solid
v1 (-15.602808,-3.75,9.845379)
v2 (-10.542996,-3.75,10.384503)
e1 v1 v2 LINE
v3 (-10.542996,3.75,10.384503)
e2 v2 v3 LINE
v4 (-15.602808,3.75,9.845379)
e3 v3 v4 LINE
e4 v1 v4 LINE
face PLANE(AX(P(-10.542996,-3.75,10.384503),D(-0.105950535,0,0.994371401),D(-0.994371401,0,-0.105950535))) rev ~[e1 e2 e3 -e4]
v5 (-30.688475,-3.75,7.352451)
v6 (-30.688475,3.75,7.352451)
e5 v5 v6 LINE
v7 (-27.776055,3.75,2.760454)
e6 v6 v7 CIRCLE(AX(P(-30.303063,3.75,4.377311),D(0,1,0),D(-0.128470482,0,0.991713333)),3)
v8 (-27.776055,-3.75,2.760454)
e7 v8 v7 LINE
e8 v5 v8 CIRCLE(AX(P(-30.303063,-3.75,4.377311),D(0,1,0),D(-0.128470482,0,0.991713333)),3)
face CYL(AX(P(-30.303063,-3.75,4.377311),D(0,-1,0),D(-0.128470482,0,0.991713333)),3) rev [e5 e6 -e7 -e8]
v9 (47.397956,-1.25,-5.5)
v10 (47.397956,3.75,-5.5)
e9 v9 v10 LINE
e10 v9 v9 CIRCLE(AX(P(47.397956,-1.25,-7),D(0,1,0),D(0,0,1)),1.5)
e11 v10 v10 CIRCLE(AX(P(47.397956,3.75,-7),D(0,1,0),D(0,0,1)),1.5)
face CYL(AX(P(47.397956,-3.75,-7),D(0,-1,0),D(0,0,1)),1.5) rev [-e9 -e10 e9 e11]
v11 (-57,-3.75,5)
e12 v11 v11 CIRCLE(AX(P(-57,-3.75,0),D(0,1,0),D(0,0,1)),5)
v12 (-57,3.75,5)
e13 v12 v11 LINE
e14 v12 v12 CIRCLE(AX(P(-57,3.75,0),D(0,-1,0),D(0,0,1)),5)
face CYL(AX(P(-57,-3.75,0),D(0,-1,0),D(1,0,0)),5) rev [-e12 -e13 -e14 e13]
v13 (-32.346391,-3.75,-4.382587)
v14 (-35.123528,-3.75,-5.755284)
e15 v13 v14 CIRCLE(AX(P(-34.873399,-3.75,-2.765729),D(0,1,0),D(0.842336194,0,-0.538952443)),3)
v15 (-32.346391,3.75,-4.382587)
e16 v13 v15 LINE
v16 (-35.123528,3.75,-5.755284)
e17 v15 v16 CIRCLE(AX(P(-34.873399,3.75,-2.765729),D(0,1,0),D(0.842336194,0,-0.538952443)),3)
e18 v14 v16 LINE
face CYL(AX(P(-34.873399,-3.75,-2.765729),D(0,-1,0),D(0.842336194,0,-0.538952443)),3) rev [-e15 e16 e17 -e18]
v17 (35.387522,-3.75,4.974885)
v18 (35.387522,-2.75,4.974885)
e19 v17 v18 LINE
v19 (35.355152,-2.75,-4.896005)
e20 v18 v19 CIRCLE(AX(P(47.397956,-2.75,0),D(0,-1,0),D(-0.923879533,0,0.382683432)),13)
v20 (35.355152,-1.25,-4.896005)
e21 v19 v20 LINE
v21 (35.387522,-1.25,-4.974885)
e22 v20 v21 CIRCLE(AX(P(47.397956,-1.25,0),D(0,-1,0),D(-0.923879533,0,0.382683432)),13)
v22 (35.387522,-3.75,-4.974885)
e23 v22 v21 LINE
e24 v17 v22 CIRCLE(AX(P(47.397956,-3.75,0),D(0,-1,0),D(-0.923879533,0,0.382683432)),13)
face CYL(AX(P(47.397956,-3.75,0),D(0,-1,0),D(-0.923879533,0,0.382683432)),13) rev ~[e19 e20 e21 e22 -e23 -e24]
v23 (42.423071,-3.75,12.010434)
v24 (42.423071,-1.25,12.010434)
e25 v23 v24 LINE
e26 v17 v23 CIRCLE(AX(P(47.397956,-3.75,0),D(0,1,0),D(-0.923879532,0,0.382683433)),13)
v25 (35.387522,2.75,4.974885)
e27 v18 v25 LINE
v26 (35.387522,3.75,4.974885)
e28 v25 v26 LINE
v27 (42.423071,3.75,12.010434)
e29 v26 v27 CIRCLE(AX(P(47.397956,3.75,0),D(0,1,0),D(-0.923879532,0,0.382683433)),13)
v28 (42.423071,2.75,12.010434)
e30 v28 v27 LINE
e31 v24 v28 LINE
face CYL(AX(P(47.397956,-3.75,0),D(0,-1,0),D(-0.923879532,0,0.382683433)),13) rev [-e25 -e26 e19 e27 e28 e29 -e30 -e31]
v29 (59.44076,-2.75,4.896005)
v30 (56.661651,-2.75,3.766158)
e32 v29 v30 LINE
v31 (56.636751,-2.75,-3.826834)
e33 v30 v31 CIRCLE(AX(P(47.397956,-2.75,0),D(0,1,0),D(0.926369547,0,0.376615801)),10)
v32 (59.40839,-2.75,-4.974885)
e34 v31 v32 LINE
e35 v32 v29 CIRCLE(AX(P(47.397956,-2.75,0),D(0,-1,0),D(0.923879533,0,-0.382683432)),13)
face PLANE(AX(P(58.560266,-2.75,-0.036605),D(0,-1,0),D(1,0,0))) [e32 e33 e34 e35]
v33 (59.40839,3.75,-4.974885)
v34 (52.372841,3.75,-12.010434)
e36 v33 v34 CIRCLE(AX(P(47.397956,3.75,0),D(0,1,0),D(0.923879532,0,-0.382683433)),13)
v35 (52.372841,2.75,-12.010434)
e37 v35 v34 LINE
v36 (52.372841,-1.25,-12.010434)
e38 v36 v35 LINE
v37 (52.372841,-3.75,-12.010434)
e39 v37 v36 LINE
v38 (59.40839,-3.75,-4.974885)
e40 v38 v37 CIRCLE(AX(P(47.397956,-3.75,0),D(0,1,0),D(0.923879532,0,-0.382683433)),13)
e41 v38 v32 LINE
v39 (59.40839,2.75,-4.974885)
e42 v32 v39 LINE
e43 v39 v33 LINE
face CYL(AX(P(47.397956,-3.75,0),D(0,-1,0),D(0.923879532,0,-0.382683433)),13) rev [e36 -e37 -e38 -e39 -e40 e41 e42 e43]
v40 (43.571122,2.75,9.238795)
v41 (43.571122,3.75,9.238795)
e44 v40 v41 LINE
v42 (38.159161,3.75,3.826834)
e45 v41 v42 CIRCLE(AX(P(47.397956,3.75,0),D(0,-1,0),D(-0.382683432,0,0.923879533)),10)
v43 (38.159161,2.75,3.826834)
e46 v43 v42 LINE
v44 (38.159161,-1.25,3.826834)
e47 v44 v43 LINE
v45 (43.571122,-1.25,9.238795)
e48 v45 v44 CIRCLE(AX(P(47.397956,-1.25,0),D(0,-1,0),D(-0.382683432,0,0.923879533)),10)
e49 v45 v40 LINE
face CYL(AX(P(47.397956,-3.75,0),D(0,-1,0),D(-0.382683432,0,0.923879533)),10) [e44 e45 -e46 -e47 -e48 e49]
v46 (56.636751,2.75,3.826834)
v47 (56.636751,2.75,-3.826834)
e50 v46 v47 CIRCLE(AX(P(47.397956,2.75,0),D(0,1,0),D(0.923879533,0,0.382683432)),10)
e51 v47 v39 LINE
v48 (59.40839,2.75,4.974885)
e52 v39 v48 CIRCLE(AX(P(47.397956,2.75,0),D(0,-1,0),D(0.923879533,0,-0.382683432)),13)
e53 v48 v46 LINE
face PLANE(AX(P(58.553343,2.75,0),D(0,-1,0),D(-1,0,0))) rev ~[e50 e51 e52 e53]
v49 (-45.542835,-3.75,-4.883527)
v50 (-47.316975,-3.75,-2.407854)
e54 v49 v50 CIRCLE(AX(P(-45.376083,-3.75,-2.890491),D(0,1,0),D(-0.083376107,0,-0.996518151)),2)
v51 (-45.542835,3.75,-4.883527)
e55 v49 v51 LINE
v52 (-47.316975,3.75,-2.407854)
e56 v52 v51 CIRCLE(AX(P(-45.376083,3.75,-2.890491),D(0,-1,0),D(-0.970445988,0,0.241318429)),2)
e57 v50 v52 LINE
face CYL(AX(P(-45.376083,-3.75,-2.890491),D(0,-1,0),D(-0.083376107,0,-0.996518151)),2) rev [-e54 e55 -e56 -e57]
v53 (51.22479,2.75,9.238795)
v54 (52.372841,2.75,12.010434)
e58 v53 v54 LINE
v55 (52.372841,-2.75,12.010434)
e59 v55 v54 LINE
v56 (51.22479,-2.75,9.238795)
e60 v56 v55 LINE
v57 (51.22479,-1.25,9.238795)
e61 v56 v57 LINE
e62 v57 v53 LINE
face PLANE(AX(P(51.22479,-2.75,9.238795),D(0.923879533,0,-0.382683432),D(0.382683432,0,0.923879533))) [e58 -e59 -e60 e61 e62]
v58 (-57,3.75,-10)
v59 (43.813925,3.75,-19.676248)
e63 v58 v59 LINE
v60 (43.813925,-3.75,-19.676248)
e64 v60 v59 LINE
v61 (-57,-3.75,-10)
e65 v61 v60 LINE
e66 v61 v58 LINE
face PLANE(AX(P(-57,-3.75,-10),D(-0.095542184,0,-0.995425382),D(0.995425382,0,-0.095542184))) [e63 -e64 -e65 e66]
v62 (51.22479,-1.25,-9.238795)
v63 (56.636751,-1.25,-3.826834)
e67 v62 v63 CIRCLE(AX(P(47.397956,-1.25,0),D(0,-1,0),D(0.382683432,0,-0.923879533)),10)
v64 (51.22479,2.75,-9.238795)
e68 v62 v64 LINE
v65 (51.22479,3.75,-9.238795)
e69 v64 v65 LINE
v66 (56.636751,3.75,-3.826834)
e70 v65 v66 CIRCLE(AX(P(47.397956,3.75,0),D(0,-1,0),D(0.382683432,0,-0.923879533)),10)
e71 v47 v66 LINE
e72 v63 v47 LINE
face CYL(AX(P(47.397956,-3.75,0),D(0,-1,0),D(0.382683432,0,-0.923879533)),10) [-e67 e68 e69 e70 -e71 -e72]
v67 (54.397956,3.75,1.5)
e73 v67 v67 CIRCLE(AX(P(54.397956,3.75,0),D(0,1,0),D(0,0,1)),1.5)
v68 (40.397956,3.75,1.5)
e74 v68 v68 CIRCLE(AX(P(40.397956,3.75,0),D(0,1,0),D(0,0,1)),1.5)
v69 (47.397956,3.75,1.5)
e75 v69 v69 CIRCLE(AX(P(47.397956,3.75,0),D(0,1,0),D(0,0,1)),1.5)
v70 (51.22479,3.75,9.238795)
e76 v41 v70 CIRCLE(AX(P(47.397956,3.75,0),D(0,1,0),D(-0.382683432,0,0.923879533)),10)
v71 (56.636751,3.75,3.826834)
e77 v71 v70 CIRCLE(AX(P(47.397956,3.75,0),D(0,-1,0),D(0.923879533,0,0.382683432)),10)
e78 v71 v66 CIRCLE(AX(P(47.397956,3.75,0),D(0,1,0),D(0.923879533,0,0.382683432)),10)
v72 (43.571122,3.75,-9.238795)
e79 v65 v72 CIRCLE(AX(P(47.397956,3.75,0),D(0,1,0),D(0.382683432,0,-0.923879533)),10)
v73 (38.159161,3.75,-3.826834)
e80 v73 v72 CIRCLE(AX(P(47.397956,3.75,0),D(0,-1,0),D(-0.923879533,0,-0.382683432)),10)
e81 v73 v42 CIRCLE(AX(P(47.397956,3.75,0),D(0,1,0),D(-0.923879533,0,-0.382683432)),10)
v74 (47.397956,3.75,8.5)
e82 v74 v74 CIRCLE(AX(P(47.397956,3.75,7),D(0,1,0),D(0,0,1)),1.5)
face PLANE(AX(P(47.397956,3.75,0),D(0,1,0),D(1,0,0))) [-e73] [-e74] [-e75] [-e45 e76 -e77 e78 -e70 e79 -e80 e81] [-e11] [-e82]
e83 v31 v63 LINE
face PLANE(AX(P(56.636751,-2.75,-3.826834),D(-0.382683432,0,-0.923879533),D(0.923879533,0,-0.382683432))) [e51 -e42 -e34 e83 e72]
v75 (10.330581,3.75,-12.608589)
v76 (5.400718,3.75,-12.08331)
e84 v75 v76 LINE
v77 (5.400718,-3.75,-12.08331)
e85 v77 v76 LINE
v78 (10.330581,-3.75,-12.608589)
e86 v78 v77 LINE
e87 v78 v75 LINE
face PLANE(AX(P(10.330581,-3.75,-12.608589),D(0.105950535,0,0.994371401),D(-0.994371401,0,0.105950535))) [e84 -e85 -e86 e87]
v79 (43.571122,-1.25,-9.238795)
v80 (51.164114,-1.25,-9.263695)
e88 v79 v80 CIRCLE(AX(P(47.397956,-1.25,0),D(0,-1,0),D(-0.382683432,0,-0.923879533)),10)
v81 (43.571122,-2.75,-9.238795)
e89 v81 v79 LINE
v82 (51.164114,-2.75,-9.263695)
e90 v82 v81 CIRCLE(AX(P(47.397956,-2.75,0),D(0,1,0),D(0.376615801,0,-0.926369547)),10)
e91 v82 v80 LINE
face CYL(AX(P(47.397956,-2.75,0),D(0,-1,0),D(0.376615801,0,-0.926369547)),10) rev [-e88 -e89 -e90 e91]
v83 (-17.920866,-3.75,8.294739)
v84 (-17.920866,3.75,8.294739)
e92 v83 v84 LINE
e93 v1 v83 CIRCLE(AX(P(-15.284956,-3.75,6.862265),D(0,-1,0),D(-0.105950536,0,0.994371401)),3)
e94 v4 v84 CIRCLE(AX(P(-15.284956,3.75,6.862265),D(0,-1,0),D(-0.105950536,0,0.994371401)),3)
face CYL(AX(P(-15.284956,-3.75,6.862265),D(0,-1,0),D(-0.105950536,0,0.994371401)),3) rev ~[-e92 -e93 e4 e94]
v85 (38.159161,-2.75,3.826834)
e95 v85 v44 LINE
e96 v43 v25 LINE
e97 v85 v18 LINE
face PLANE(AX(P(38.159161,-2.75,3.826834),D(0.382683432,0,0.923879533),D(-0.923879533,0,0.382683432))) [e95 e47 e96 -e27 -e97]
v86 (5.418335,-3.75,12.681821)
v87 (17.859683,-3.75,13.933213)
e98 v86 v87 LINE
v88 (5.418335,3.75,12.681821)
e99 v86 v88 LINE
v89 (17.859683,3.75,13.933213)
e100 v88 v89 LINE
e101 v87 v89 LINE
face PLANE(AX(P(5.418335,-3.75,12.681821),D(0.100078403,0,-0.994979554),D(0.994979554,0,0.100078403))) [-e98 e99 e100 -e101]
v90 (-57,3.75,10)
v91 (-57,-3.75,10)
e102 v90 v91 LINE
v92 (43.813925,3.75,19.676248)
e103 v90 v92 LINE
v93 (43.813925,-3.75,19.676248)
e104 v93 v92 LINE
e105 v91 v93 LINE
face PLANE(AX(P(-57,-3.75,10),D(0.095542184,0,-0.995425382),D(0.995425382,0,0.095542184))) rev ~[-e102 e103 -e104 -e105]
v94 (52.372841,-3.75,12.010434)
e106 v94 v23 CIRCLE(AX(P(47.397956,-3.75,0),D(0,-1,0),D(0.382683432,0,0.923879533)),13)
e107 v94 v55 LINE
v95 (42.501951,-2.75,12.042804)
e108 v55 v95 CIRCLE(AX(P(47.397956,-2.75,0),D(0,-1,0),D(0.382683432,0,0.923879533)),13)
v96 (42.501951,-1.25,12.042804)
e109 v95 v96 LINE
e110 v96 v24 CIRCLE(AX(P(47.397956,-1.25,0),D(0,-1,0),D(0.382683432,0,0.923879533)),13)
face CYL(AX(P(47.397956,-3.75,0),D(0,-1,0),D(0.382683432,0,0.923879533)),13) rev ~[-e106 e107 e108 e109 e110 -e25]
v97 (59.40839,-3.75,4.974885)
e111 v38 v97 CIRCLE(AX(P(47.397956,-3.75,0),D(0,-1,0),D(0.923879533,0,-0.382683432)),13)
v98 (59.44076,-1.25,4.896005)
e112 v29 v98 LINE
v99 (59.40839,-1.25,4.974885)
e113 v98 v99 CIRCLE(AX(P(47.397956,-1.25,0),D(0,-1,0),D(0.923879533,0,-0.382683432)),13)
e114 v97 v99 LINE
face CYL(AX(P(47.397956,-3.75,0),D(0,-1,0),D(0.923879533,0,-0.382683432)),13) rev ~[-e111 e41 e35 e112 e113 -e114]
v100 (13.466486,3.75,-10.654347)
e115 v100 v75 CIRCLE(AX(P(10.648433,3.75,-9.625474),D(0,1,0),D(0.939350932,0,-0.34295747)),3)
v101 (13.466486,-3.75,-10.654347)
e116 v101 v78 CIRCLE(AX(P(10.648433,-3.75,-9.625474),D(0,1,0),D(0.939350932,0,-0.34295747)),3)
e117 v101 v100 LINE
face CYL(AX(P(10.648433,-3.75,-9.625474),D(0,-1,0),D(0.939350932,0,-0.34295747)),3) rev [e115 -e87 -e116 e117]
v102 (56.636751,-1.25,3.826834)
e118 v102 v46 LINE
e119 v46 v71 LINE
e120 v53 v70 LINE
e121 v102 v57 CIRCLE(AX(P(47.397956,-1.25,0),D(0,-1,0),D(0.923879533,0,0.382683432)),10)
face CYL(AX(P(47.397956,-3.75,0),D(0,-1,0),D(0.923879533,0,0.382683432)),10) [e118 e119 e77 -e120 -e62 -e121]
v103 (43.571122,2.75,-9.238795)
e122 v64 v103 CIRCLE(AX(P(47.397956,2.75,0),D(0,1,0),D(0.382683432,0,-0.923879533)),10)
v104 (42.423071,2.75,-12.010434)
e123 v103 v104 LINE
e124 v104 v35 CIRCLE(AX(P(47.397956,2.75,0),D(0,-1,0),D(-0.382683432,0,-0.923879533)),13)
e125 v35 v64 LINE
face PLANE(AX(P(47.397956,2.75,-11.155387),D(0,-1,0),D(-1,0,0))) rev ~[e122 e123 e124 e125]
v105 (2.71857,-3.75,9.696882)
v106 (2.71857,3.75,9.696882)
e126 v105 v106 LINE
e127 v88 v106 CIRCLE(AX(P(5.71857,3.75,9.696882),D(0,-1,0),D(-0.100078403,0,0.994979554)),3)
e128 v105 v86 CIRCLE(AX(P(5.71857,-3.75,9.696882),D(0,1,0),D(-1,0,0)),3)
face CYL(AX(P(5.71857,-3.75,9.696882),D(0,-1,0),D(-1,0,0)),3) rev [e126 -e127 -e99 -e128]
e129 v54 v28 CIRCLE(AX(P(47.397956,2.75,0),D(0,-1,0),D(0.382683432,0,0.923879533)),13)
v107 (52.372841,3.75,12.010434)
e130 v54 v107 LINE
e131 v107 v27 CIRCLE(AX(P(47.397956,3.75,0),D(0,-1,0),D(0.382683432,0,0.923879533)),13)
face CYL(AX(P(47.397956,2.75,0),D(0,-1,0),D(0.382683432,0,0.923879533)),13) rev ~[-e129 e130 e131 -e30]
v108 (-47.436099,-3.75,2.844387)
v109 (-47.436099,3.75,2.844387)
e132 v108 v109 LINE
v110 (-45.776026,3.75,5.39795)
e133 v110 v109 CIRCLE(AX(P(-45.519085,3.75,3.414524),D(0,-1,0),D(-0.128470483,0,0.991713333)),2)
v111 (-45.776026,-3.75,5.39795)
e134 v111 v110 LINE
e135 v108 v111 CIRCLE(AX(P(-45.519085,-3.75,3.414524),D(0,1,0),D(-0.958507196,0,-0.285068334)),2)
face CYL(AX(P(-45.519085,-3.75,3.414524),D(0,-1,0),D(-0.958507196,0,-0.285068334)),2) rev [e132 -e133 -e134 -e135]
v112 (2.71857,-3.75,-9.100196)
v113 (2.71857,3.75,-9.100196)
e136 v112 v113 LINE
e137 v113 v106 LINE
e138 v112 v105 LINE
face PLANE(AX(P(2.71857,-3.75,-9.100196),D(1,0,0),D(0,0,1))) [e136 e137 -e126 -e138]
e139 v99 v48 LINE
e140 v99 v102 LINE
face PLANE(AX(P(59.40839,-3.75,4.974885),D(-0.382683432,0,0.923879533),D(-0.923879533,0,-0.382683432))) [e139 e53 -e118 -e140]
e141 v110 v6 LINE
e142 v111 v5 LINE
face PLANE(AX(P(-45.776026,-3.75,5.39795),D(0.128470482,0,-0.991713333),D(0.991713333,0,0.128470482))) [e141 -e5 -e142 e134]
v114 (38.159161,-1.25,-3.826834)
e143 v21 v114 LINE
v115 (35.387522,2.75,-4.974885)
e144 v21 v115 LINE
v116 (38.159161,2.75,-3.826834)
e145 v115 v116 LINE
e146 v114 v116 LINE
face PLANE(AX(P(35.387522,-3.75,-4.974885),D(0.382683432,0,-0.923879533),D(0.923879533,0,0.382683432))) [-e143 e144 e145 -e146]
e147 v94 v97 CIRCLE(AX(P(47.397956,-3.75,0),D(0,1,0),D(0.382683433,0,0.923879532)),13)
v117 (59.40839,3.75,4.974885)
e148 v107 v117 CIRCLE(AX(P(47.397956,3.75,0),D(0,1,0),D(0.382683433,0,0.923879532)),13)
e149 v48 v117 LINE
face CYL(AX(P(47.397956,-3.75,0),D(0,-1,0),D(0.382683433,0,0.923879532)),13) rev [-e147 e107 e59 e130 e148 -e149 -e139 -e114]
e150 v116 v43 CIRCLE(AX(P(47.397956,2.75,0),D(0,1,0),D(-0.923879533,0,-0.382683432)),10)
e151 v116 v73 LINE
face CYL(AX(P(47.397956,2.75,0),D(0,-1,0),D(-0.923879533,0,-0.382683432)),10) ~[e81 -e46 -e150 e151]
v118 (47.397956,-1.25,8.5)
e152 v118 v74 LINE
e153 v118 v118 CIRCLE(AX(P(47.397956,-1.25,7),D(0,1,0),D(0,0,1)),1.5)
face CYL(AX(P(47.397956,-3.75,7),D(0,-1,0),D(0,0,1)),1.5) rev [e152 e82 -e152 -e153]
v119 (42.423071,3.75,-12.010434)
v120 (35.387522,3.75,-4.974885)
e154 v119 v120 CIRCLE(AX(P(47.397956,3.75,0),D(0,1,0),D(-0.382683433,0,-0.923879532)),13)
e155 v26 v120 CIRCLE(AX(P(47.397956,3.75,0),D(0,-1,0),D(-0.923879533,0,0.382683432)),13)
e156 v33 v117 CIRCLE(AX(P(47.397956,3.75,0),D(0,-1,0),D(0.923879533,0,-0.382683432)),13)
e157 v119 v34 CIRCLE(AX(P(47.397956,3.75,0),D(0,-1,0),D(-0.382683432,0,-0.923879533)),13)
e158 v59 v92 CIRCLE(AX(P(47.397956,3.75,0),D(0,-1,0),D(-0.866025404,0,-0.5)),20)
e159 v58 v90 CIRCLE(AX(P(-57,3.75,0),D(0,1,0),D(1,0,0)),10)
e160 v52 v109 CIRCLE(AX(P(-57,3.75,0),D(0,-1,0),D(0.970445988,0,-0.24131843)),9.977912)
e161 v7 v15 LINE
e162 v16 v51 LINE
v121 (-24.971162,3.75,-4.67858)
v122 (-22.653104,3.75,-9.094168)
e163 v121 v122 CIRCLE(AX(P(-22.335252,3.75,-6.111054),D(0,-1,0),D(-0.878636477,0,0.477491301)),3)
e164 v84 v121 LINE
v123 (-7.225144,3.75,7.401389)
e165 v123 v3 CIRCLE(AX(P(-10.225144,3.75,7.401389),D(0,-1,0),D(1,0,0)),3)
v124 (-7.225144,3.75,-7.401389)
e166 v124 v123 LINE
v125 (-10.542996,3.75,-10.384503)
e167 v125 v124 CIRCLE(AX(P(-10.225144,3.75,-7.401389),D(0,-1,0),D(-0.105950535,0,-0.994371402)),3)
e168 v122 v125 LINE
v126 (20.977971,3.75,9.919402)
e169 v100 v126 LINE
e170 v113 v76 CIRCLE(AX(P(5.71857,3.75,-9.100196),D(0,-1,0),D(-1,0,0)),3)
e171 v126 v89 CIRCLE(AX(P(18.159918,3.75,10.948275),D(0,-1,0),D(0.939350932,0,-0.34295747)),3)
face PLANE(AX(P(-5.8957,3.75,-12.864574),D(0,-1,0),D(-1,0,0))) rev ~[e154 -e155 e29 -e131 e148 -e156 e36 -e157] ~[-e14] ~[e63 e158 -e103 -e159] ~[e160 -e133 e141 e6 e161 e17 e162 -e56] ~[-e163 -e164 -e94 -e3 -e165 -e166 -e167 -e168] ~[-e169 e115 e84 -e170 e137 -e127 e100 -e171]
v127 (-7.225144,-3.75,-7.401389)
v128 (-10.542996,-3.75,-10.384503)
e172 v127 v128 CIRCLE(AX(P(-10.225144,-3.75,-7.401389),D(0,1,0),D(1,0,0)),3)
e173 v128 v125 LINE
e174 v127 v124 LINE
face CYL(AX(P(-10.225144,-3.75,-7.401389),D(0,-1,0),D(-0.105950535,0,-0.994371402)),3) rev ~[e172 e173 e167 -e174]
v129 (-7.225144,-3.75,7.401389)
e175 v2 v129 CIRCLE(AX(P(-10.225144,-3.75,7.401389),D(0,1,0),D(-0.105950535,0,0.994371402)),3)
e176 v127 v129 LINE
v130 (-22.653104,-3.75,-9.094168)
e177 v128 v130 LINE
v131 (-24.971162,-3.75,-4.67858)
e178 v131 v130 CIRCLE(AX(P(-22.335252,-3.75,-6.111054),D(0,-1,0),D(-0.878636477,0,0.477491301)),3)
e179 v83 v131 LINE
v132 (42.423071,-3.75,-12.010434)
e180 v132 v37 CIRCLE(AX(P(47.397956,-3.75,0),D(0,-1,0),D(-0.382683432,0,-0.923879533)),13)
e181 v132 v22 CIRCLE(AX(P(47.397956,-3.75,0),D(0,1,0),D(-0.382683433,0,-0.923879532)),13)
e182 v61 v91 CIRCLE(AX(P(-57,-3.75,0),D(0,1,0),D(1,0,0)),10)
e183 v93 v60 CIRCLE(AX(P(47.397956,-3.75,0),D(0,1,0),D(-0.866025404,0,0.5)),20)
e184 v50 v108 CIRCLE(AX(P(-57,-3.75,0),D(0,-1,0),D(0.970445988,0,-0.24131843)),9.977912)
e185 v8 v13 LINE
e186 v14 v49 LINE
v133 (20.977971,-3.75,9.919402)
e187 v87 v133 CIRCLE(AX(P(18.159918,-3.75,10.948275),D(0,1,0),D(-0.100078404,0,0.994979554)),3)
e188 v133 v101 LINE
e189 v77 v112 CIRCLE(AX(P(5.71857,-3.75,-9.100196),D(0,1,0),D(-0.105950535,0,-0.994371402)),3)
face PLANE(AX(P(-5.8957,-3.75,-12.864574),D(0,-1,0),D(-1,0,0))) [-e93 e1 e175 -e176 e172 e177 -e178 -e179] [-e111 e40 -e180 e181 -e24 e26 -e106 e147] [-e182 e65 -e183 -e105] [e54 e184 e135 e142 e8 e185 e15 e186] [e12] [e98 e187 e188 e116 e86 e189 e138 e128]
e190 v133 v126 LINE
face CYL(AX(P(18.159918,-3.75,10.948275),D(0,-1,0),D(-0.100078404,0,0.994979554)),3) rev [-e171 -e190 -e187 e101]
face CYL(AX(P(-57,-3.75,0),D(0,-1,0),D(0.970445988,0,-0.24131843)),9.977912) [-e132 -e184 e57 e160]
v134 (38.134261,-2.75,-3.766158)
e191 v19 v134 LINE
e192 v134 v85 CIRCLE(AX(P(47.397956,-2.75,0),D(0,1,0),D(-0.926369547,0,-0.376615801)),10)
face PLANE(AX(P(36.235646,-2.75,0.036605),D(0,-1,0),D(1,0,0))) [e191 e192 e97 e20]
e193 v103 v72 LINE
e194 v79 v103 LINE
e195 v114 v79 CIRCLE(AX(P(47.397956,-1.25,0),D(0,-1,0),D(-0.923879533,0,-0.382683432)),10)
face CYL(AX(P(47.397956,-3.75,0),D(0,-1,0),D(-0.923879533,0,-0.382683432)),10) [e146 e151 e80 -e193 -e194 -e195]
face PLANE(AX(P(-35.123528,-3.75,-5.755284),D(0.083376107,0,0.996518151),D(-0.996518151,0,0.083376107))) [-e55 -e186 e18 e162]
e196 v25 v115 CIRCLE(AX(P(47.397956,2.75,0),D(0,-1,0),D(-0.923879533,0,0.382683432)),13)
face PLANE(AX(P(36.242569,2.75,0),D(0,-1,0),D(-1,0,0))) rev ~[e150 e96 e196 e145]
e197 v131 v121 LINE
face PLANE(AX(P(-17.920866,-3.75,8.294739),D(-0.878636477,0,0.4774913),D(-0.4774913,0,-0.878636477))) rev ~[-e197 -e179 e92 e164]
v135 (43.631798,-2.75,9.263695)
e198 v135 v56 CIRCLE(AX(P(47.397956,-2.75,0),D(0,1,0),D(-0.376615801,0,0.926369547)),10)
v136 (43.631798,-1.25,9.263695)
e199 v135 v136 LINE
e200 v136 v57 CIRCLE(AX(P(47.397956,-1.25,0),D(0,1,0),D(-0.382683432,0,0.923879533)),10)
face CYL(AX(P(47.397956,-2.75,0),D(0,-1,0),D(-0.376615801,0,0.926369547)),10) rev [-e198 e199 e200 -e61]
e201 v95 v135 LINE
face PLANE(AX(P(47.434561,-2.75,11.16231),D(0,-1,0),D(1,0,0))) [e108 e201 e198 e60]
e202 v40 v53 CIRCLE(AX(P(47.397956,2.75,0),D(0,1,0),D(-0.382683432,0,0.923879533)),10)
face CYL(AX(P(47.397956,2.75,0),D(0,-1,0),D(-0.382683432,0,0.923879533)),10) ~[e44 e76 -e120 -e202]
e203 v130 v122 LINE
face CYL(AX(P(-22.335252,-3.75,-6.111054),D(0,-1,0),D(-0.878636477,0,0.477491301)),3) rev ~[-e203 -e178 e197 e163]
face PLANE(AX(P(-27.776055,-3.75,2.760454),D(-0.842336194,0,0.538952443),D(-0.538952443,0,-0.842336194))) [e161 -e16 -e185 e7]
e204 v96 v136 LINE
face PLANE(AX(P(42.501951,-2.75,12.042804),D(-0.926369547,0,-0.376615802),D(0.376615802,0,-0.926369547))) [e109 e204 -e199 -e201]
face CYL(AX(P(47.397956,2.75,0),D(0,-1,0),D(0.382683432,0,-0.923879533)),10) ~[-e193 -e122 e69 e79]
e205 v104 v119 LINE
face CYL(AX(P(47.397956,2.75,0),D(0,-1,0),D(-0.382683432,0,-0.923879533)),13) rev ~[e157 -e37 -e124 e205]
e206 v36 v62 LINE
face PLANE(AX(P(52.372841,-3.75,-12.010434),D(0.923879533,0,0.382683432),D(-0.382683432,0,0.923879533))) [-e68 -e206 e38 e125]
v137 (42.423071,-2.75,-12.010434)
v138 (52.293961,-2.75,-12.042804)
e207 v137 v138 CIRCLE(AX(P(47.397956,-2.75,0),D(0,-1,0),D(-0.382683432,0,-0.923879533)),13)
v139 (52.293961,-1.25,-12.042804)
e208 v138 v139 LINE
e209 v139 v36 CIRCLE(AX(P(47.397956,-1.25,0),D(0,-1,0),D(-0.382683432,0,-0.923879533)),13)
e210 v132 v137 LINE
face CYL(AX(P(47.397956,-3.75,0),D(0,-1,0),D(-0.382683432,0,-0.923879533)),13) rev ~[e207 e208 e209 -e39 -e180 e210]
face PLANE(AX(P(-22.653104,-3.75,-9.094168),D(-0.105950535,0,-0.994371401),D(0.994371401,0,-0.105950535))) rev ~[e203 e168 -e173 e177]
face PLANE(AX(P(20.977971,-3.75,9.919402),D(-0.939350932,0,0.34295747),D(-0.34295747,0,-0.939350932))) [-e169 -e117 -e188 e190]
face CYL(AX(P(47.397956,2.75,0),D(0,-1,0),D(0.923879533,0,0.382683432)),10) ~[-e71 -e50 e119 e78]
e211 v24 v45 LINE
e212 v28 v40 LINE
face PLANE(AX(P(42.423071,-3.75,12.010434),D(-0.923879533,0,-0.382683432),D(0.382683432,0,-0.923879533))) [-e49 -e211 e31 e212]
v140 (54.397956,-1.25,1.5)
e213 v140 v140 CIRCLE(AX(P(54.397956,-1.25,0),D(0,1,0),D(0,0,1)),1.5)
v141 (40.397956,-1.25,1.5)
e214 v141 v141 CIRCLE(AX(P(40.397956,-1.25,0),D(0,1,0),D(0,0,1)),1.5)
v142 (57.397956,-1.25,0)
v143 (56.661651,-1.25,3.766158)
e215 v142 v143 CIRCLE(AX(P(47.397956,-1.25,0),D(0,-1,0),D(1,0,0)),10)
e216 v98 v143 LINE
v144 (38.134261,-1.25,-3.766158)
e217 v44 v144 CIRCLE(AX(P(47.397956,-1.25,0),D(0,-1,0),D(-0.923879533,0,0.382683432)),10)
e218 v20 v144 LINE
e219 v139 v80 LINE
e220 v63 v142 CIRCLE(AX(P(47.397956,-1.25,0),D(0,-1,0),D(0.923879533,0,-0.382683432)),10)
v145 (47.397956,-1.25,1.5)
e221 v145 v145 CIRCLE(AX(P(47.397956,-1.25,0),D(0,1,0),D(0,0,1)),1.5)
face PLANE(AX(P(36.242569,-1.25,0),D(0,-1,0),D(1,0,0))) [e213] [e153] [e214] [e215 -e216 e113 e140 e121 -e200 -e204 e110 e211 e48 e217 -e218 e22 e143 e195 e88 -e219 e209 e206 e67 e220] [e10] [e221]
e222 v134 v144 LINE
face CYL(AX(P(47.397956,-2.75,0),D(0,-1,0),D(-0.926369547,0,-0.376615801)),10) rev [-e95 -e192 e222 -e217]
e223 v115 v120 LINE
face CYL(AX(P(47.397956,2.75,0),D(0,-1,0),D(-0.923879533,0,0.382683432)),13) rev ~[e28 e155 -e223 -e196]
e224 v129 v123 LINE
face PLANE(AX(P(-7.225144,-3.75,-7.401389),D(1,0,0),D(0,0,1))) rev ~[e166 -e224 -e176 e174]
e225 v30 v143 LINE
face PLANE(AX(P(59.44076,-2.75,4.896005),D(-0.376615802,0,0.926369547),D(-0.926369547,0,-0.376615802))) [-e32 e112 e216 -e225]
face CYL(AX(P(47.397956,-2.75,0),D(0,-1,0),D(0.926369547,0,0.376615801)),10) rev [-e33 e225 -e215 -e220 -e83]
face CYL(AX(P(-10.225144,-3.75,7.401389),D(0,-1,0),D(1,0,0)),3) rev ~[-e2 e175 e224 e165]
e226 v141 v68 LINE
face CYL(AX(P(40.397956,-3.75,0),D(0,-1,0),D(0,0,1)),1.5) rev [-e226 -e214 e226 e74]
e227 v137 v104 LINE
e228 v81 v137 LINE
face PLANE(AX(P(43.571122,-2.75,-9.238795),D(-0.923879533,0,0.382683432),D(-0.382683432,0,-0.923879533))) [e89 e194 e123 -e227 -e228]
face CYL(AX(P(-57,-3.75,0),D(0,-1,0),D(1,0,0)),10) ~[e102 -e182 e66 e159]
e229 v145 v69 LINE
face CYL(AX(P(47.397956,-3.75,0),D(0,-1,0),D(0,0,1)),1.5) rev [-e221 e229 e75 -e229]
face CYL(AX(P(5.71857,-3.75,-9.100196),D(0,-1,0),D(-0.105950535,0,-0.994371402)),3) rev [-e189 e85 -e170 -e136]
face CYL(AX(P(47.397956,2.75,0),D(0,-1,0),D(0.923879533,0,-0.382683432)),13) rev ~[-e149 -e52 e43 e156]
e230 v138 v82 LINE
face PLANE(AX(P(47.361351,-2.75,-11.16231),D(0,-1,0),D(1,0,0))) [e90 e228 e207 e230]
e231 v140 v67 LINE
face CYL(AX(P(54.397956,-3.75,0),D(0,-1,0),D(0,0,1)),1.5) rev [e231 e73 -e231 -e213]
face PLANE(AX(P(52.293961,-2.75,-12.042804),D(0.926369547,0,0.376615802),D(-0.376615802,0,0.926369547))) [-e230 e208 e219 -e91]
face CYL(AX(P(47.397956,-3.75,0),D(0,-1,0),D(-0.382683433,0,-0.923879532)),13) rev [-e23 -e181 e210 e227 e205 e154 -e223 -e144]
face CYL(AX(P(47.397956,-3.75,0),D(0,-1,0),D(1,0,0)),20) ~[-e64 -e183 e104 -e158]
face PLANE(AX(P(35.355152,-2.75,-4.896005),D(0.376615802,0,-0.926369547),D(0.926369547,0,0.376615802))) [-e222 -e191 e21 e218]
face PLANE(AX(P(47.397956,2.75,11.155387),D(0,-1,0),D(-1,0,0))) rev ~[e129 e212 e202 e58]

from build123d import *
from build123d.topology import SkipClean

# Parameters (mm, degrees)
EXTRUDE_1_DEPTH          = 47
EXTRUDE_1_DEPTH_BACK     = 57
EXTRUDE_2_DEPTH          = 3.75
EXTRUDE_2_DEPTH_BACK     = 3.75
SKETCH_2_R               = 20
CUT_EXTRUDE_1_DEPTH      = 3.75
CUT_EXTRUDE_1_DEPTH_BACK = 3.75
SKETCH_3_R               = 1.5
CUT_EXTRUDE_START        = -1
CUT_EXTRUDE_2_DEPTH      = 1
SKETCH_5_R               = 1.5
CUT_EXTRUDE_3_DEPTH      = 2.5
EXTRUDE_START            = 1.5
EXTRUDE_3_DEPTH          = 1.5
EXTRUDE_4_DEPTH          = 3.75
EXTRUDE_4_DEPTH_BACK     = 3.75
SKETCH_7_R               = 10
SKETCH_7_R_2             = 5
CUT_EXTRUDE_4_DEPTH      = 3.75
CUT_EXTRUDE_4_DEPTH_BACK = 3.75
SKETCH_8_R               = 5
EXTRUDE_5_DEPTH          = 3.75
EXTRUDE_5_DEPTH_BACK     = 3.75
CUT_EXTRUDE_5_DEPTH      = 3.75
CUT_EXTRUDE_5_DEPTH_BACK = 3.75


with BuildPart() as part:
    # 草图1 → 凸台-拉伸1 (new, two sides: drawn at the far end of the back side and taken through both)
    with BuildSketch(Plane(origin=(0, 0, 0), x_dir=(0, 0, -1), z_dir=(1, 0, 0)).offset(-EXTRUDE_1_DEPTH_BACK)):
        Polygon((10, 0), (10, 3.75), (-10, 3.75), (-10, -3.75), (10, -3.75), align=None)
    extrude(amount=EXTRUDE_1_DEPTH + EXTRUDE_1_DEPTH_BACK)

    # 草图2 → 凸台-拉伸2 (add, two sides: drawn at the far end of the back side and taken through both)
    with BuildSketch(Plane(origin=(0, 0, 0), x_dir=(1, 0, 0), z_dir=(0, 1, 0)).offset(-EXTRUDE_2_DEPTH_BACK)):
        with Locations((47.397956018, 0)):
            Circle(SKETCH_2_R)
    extrude(amount=EXTRUDE_2_DEPTH + EXTRUDE_2_DEPTH_BACK)

    # 草图3 → 切除-拉伸1 (cut, two sides: drawn at the far end of the back side and taken through both)
    with BuildSketch(Plane(origin=(0, 0, 0), x_dir=(1, 0, 0), z_dir=(0, 1, 0)).offset(-CUT_EXTRUDE_1_DEPTH_BACK)):
        with BuildLine():
            ThreePointArc((52.372840639, -12.010433923), (56.590344173, -9.192388155), (59.408389941, -4.974884621))
            Line((59.408389941, -4.974884621), (56.636751343, -3.826834324))
            ThreePointArc((56.636751343, -3.826834324), (54.46902383, -7.071067812), (51.224790342, -9.238795325))
            Line((51.224790342, -9.238795325), (52.372840639, -12.010433923))
        make_face()
        with BuildLine():
            ThreePointArc((35.387522095, -4.974884621), (38.205567863, -9.192388155), (42.423071397, -12.010433923))
            Line((42.423071397, -12.010433923), (43.571121694, -9.238795325))
            ThreePointArc((43.571121694, -9.238795325), (40.326888206, -7.071067812), (38.159160693, -3.826834324))
            Line((38.159160693, -3.826834324), (35.387522095, -4.974884621))
        make_face()
        with BuildLine():
            Line((56.636751343, 3.826834324), (59.408389941, 4.974884621))
            ThreePointArc((59.408389941, 4.974884621), (56.590344173, 9.192388155), (52.372840639, 12.010433923))
            Line((52.372840639, 12.010433923), (51.224790342, 9.238795325))
            ThreePointArc((51.224790342, 9.238795325), (54.46902383, 7.071067812), (56.636751343, 3.826834324))
        make_face()
        with BuildLine():
            ThreePointArc((42.423071397, 12.010433923), (38.205567863, 9.192388155), (35.387522095, 4.974884621))
            Line((35.387522095, 4.974884621), (38.159160693, 3.826834324))
            ThreePointArc((38.159160693, 3.826834324), (40.326888206, 7.071067812), (43.571121694, 9.238795325))
            Line((43.571121694, 9.238795325), (42.423071397, 12.010433923))
        make_face()
        with Locations((47.397956018, 7)):
            Circle(SKETCH_3_R)
        with Locations((47.397956018, 0)):
            Circle(SKETCH_3_R)
        with Locations((54.397956018, 0)):
            Circle(SKETCH_3_R)
        with Locations((47.397956018, -7)):
            Circle(SKETCH_3_R)
        with Locations((40.397956018, 0)):
            Circle(SKETCH_3_R)
    extrude(amount=CUT_EXTRUDE_1_DEPTH + CUT_EXTRUDE_1_DEPTH_BACK, mode=Mode.SUBTRACT)

    # 草图4 → 切除-拉伸2 (cut)
    with SkipClean():  # the faces are left unmerged after this step: merging them gives an invalid solid
        with BuildSketch(Plane(origin=(0, 3.75, 0), x_dir=(1, 0, 0), z_dir=(0, 1, 0)).offset(CUT_EXTRUDE_START)):
            with BuildLine():
                Line((43.571121694, 9.238795325), (42.423071397, 12.010433923))
                ThreePointArc((42.423071397, 12.010433923), (47.397956018, 13), (52.372840639, 12.010433923))
                Line((52.372840639, 12.010433923), (51.224790342, 9.238795325))
                ThreePointArc((51.224790342, 9.238795325), (47.397956018, 10), (43.571121694, 9.238795325))
            make_face()
            with BuildLine():
                Line((56.636751343, 3.826834324), (59.408389941, 4.974884621))
                ThreePointArc((59.408389941, 4.974884621), (60.397956018, 0), (59.408389941, -4.974884621))
                Line((59.408389941, -4.974884621), (56.636751343, -3.826834324))
                ThreePointArc((56.636751343, -3.826834324), (57.397956018, 0), (56.636751343, 3.826834324))
            make_face()
            with BuildLine():
                Line((51.224790342, -9.238795325), (52.372840639, -12.010433923))
                ThreePointArc((52.372840639, -12.010433923), (47.397956018, -13), (42.423071397, -12.010433923))
                Line((42.423071397, -12.010433923), (43.571121694, -9.238795325))
                ThreePointArc((43.571121694, -9.238795325), (47.397956018, -10), (51.224790342, -9.238795325))
            make_face()
            with BuildLine():
                Line((38.159160693, -3.826834324), (35.387522095, -4.974884621))
                ThreePointArc((35.387522095, -4.974884621), (34.397956018, 0), (35.387522095, 4.974884621))
                Line((35.387522095, 4.974884621), (38.159160693, 3.826834324))
                ThreePointArc((38.159160693, 3.826834324), (37.397956018, 0), (38.159160693, -3.826834324))
            make_face()
        extrude(amount=CUT_EXTRUDE_2_DEPTH, mode=Mode.SUBTRACT)

    # 草图5 → 切除-拉伸3 (cut)
    with SkipClean():  # the faces are left unmerged after this step: merging them gives an invalid solid
        with BuildSketch(Plane.XZ.offset(3.75)):
            with BuildLine():
                ThreePointArc((51.224790342, -9.238795325), (54.46902383, -7.071067812), (56.636751343, -3.826834324))
                Line((56.636751343, -3.826834324), (59.408389941, -4.974884621))
                ThreePointArc((59.408389941, -4.974884621), (60.397956018, 0), (59.408389941, 4.974884621))
                Line((59.408389941, 4.974884621), (56.636751343, 3.826834324))
                ThreePointArc((56.636751343, 3.826834324), (54.46902383, 7.071067812), (51.224790342, 9.238795325))
                Line((51.224790342, 9.238795325), (52.372840639, 12.010433923))
                ThreePointArc((52.372840639, 12.010433923), (47.397956018, 13), (42.423071397, 12.010433923))
                Line((42.423071397, 12.010433923), (43.571121694, 9.238795325))
                ThreePointArc((43.571121694, 9.238795325), (40.326888206, 7.071067812), (38.159160693, 3.826834324))
                Line((38.159160693, 3.826834324), (35.387522095, 4.974884621))
                ThreePointArc((35.387522095, 4.974884621), (34.397956018, 0), (35.387522095, -4.974884621))
                Line((35.387522095, -4.974884621), (38.159160693, -3.826834324))
                ThreePointArc((38.159160693, -3.826834324), (40.326888206, -7.071067812), (43.571121694, -9.238795325))
                Line((43.571121694, -9.238795325), (42.423071397, -12.010433923))
                ThreePointArc((42.423071397, -12.010433923), (47.397956018, -13), (52.372840639, -12.010433923))
                Line((52.372840639, -12.010433923), (51.224790342, -9.238795325))
            make_face()
            with Locations((47.397956018, -7)):
                Circle(SKETCH_5_R, mode=Mode.SUBTRACT)
            with Locations((54.397956018, 0)):
                Circle(SKETCH_5_R, mode=Mode.SUBTRACT)
            with Locations((40.397956018, 0)):
                Circle(SKETCH_5_R, mode=Mode.SUBTRACT)
            with Locations((47.397956018, 0)):
                Circle(SKETCH_5_R, mode=Mode.SUBTRACT)
            with Locations((47.397956018, 7)):
                Circle(SKETCH_5_R, mode=Mode.SUBTRACT)
        extrude(amount=-CUT_EXTRUDE_3_DEPTH, mode=Mode.SUBTRACT)

    # 草图6 → 凸台-拉伸3 (add)
    with SkipClean():  # the faces are left unmerged after this step: merging them gives an invalid solid
        with BuildSketch(Plane.XZ.offset(1.25).offset(EXTRUDE_START)):
            with BuildLine():
                Line((59.440760131, 4.896005422), (56.66165149, 3.766158017))
                ThreePointArc((56.66165149, 3.766158017), (57.397902247, -0.032793412), (56.636751343, -3.826834324))
                Line((56.636751343, -3.826834324), (59.408389941, -4.974884621))
                ThreePointArc((59.408389941, -4.974884621), (60.397886116, -0.042631436), (59.440760131, 4.896005422))
            make_face()
            with BuildLine():
                Line((42.501950596, 12.042804113), (43.631798001, 9.263695472))
                ThreePointArc((43.631798001, 9.263695472), (47.43074943, 9.999946229), (51.224790342, 9.238795325))
                Line((51.224790342, 9.238795325), (52.372840639, 12.010433923))
                ThreePointArc((52.372840639, 12.010433923), (47.440587454, 12.999930098), (42.501950596, 12.042804113))
            make_face()
            with BuildLine():
                Line((52.29396144, -12.042804113), (51.164114035, -9.263695472))
                ThreePointArc((51.164114035, -9.263695472), (47.365162606, -9.999946229), (43.571121694, -9.238795325))
                Line((43.571121694, -9.238795325), (42.423071397, -12.010433923))
                ThreePointArc((42.423071397, -12.010433923), (47.355324582, -12.999930098), (52.29396144, -12.042804113))
            make_face()
            with BuildLine():
                Line((35.355151905, -4.896005422), (38.134260546, -3.766158017))
                ThreePointArc((38.134260546, -3.766158017), (37.398009789, 0.032793412), (38.159160693, 3.826834324))
                Line((38.159160693, 3.826834324), (35.387522095, 4.974884621))
                ThreePointArc((35.387522095, 4.974884621), (34.39802592, 0.042631436), (35.355151905, -4.896005422))
            make_face()
        extrude(amount=-EXTRUDE_3_DEPTH)

    # 草图7 → 凸台-拉伸4 (add, two sides: drawn at the far end of the back side and taken through both)
    with SkipClean():  # the faces are left unmerged after this step: merging them gives an invalid solid
        with BuildSketch(Plane(origin=(0, 0, 0), x_dir=(1, 0, 0), z_dir=(0, 1, 0)).offset(-EXTRUDE_4_DEPTH_BACK)):
            with Locations((-57, 0)):
                Circle(SKETCH_7_R)
            with Locations((-57, 0)):
                Circle(SKETCH_7_R_2, mode=Mode.SUBTRACT)
        extrude(amount=EXTRUDE_4_DEPTH + EXTRUDE_4_DEPTH_BACK)

    # 草图8 → 切除-拉伸4 (cut, two sides: drawn at the far end of the back side and taken through both)
    with SkipClean():  # the faces are left unmerged after this step: merging them gives an invalid solid
        with BuildSketch(Plane(origin=(0, 0, 0), x_dir=(1, 0, 0), z_dir=(0, 1, 0)).offset(-CUT_EXTRUDE_4_DEPTH_BACK)):
            with Locations((-57, 0)):
                Circle(SKETCH_8_R)
        extrude(amount=CUT_EXTRUDE_4_DEPTH + CUT_EXTRUDE_4_DEPTH_BACK, mode=Mode.SUBTRACT)

    # 草图9 → 凸台-拉伸5 (add, two sides: drawn at the far end of the back side and taken through both)
    with SkipClean():  # the faces are left unmerged after this step: merging them gives an invalid solid
        with BuildSketch(Plane(origin=(0, 0, 0), x_dir=(1, 0, 0), z_dir=(0, 1, 0)).offset(-EXTRUDE_5_DEPTH_BACK)):
            with BuildLine():
                Line((-57, 10), (43.813925273, 19.676247702))
                ThreePointArc((43.813925273, 19.676247702), (35.88025754, 16.350615333), (30.077447942, 10))
                Line((30.077447942, 10), (-57, 10))
            make_face()
            with BuildLine():
                Line((-57, -10), (43.813925273, -19.676247702))
                ThreePointArc((43.813925273, -19.676247702), (35.88025754, -16.350615333), (30.077447942, -10))
                Line((30.077447942, -10), (-57, -10))
            make_face()
        extrude(amount=EXTRUDE_5_DEPTH + EXTRUDE_5_DEPTH_BACK)

    # 草图10 → 切除-拉伸5 (cut, two sides: drawn at the far end of the back side and taken through both)
    with BuildSketch(Plane(origin=(0, 0, 0), x_dir=(1, 0, 0), z_dir=(0, 1, 0)).offset(-CUT_EXTRUDE_5_DEPTH_BACK)):
        with BuildLine():
            Line((-17.9208659, -8.294738781), (-24.97116153, 4.678580119))
            ThreePointArc((-24.97116153, 4.678580119), (-24.991476986, 7.505496331), (-22.653103706, 9.094168225))
            Line((-22.653103706, 9.094168225), (-10.542995546, 10.384503445))
            ThreePointArc((-10.542995546, 10.384503445), (-8.219346695, 9.632258445), (-7.225143941, 7.40138924))
            Line((-7.225143941, 7.40138924), (-7.225143941, -7.40138924))
            ThreePointArc((-7.225143941, -7.40138924), (-8.219346695, -9.632258445), (-10.542995546, -10.384503445))
            Line((-10.542995546, -10.384503445), (-15.602808076, -9.845379085))
            ThreePointArc((-15.602808076, -9.845379085), (-16.952978473, -9.355797033), (-17.9208659, -8.294738781))
        make_face()
        with BuildLine():
            Line((-27.776054729, -2.760454133), (-32.346390661, 4.382586826))
            ThreePointArc((-32.346390661, 4.382586826), (-33.54406848, 5.455130866), (-35.123527565, 5.75528395))
            Line((-35.123527565, 5.75528395), (-45.542835136, 4.883527321))
            ThreePointArc((-45.542835136, 4.883527321), (-47.001745989, 4.055488699), (-47.316974898, 2.407854161))
            ThreePointArc((-47.316974898, 2.407854161), (-47.024652941, -0.226247319), (-47.436099119, -2.844386882))
            ThreePointArc((-47.436099119, -2.844386882), (-47.195894764, -4.504619006), (-45.776025692, -5.397950218))
            Line((-45.776025692, -5.397950218), (-30.688474759, -7.352451462))
            ThreePointArc((-30.688474759, -7.352451462), (-27.76964281, -5.984103471), (-27.776054729, -2.760454133))
        make_face()
        with BuildLine():
            Line((5.418334864, -12.681820506), (17.859683052, -13.933213319))
            ThreePointArc((17.859683052, -13.933213319), (20.528994281, -12.788785135), (20.977971059, -9.919402247))
            Line((20.977971059, -9.919402247), (13.466485556, 10.654346756))
            ThreePointArc((13.466485556, 10.654346756), (12.235101202, 12.171546469), (10.330581154, 12.60858855))
            Line((10.330581154, 12.60858855), (5.400718468, 12.08331038))
            ThreePointArc((5.400718468, 12.08331038), (3.487700869, 11.105993422), (2.718570074, 9.100196176))
            Line((2.718570074, 9.100196176), (2.718570074, -9.696881844))
            ThreePointArc((2.718570074, -9.696881844), (3.49363124, -11.709255364), (5.418334864, -12.681820506))
        make_face()
    extrude(amount=CUT_EXTRUDE_5_DEPTH + CUT_EXTRUDE_5_DEPTH_BACK, mode=Mode.SUBTRACT)


solid = part.part
